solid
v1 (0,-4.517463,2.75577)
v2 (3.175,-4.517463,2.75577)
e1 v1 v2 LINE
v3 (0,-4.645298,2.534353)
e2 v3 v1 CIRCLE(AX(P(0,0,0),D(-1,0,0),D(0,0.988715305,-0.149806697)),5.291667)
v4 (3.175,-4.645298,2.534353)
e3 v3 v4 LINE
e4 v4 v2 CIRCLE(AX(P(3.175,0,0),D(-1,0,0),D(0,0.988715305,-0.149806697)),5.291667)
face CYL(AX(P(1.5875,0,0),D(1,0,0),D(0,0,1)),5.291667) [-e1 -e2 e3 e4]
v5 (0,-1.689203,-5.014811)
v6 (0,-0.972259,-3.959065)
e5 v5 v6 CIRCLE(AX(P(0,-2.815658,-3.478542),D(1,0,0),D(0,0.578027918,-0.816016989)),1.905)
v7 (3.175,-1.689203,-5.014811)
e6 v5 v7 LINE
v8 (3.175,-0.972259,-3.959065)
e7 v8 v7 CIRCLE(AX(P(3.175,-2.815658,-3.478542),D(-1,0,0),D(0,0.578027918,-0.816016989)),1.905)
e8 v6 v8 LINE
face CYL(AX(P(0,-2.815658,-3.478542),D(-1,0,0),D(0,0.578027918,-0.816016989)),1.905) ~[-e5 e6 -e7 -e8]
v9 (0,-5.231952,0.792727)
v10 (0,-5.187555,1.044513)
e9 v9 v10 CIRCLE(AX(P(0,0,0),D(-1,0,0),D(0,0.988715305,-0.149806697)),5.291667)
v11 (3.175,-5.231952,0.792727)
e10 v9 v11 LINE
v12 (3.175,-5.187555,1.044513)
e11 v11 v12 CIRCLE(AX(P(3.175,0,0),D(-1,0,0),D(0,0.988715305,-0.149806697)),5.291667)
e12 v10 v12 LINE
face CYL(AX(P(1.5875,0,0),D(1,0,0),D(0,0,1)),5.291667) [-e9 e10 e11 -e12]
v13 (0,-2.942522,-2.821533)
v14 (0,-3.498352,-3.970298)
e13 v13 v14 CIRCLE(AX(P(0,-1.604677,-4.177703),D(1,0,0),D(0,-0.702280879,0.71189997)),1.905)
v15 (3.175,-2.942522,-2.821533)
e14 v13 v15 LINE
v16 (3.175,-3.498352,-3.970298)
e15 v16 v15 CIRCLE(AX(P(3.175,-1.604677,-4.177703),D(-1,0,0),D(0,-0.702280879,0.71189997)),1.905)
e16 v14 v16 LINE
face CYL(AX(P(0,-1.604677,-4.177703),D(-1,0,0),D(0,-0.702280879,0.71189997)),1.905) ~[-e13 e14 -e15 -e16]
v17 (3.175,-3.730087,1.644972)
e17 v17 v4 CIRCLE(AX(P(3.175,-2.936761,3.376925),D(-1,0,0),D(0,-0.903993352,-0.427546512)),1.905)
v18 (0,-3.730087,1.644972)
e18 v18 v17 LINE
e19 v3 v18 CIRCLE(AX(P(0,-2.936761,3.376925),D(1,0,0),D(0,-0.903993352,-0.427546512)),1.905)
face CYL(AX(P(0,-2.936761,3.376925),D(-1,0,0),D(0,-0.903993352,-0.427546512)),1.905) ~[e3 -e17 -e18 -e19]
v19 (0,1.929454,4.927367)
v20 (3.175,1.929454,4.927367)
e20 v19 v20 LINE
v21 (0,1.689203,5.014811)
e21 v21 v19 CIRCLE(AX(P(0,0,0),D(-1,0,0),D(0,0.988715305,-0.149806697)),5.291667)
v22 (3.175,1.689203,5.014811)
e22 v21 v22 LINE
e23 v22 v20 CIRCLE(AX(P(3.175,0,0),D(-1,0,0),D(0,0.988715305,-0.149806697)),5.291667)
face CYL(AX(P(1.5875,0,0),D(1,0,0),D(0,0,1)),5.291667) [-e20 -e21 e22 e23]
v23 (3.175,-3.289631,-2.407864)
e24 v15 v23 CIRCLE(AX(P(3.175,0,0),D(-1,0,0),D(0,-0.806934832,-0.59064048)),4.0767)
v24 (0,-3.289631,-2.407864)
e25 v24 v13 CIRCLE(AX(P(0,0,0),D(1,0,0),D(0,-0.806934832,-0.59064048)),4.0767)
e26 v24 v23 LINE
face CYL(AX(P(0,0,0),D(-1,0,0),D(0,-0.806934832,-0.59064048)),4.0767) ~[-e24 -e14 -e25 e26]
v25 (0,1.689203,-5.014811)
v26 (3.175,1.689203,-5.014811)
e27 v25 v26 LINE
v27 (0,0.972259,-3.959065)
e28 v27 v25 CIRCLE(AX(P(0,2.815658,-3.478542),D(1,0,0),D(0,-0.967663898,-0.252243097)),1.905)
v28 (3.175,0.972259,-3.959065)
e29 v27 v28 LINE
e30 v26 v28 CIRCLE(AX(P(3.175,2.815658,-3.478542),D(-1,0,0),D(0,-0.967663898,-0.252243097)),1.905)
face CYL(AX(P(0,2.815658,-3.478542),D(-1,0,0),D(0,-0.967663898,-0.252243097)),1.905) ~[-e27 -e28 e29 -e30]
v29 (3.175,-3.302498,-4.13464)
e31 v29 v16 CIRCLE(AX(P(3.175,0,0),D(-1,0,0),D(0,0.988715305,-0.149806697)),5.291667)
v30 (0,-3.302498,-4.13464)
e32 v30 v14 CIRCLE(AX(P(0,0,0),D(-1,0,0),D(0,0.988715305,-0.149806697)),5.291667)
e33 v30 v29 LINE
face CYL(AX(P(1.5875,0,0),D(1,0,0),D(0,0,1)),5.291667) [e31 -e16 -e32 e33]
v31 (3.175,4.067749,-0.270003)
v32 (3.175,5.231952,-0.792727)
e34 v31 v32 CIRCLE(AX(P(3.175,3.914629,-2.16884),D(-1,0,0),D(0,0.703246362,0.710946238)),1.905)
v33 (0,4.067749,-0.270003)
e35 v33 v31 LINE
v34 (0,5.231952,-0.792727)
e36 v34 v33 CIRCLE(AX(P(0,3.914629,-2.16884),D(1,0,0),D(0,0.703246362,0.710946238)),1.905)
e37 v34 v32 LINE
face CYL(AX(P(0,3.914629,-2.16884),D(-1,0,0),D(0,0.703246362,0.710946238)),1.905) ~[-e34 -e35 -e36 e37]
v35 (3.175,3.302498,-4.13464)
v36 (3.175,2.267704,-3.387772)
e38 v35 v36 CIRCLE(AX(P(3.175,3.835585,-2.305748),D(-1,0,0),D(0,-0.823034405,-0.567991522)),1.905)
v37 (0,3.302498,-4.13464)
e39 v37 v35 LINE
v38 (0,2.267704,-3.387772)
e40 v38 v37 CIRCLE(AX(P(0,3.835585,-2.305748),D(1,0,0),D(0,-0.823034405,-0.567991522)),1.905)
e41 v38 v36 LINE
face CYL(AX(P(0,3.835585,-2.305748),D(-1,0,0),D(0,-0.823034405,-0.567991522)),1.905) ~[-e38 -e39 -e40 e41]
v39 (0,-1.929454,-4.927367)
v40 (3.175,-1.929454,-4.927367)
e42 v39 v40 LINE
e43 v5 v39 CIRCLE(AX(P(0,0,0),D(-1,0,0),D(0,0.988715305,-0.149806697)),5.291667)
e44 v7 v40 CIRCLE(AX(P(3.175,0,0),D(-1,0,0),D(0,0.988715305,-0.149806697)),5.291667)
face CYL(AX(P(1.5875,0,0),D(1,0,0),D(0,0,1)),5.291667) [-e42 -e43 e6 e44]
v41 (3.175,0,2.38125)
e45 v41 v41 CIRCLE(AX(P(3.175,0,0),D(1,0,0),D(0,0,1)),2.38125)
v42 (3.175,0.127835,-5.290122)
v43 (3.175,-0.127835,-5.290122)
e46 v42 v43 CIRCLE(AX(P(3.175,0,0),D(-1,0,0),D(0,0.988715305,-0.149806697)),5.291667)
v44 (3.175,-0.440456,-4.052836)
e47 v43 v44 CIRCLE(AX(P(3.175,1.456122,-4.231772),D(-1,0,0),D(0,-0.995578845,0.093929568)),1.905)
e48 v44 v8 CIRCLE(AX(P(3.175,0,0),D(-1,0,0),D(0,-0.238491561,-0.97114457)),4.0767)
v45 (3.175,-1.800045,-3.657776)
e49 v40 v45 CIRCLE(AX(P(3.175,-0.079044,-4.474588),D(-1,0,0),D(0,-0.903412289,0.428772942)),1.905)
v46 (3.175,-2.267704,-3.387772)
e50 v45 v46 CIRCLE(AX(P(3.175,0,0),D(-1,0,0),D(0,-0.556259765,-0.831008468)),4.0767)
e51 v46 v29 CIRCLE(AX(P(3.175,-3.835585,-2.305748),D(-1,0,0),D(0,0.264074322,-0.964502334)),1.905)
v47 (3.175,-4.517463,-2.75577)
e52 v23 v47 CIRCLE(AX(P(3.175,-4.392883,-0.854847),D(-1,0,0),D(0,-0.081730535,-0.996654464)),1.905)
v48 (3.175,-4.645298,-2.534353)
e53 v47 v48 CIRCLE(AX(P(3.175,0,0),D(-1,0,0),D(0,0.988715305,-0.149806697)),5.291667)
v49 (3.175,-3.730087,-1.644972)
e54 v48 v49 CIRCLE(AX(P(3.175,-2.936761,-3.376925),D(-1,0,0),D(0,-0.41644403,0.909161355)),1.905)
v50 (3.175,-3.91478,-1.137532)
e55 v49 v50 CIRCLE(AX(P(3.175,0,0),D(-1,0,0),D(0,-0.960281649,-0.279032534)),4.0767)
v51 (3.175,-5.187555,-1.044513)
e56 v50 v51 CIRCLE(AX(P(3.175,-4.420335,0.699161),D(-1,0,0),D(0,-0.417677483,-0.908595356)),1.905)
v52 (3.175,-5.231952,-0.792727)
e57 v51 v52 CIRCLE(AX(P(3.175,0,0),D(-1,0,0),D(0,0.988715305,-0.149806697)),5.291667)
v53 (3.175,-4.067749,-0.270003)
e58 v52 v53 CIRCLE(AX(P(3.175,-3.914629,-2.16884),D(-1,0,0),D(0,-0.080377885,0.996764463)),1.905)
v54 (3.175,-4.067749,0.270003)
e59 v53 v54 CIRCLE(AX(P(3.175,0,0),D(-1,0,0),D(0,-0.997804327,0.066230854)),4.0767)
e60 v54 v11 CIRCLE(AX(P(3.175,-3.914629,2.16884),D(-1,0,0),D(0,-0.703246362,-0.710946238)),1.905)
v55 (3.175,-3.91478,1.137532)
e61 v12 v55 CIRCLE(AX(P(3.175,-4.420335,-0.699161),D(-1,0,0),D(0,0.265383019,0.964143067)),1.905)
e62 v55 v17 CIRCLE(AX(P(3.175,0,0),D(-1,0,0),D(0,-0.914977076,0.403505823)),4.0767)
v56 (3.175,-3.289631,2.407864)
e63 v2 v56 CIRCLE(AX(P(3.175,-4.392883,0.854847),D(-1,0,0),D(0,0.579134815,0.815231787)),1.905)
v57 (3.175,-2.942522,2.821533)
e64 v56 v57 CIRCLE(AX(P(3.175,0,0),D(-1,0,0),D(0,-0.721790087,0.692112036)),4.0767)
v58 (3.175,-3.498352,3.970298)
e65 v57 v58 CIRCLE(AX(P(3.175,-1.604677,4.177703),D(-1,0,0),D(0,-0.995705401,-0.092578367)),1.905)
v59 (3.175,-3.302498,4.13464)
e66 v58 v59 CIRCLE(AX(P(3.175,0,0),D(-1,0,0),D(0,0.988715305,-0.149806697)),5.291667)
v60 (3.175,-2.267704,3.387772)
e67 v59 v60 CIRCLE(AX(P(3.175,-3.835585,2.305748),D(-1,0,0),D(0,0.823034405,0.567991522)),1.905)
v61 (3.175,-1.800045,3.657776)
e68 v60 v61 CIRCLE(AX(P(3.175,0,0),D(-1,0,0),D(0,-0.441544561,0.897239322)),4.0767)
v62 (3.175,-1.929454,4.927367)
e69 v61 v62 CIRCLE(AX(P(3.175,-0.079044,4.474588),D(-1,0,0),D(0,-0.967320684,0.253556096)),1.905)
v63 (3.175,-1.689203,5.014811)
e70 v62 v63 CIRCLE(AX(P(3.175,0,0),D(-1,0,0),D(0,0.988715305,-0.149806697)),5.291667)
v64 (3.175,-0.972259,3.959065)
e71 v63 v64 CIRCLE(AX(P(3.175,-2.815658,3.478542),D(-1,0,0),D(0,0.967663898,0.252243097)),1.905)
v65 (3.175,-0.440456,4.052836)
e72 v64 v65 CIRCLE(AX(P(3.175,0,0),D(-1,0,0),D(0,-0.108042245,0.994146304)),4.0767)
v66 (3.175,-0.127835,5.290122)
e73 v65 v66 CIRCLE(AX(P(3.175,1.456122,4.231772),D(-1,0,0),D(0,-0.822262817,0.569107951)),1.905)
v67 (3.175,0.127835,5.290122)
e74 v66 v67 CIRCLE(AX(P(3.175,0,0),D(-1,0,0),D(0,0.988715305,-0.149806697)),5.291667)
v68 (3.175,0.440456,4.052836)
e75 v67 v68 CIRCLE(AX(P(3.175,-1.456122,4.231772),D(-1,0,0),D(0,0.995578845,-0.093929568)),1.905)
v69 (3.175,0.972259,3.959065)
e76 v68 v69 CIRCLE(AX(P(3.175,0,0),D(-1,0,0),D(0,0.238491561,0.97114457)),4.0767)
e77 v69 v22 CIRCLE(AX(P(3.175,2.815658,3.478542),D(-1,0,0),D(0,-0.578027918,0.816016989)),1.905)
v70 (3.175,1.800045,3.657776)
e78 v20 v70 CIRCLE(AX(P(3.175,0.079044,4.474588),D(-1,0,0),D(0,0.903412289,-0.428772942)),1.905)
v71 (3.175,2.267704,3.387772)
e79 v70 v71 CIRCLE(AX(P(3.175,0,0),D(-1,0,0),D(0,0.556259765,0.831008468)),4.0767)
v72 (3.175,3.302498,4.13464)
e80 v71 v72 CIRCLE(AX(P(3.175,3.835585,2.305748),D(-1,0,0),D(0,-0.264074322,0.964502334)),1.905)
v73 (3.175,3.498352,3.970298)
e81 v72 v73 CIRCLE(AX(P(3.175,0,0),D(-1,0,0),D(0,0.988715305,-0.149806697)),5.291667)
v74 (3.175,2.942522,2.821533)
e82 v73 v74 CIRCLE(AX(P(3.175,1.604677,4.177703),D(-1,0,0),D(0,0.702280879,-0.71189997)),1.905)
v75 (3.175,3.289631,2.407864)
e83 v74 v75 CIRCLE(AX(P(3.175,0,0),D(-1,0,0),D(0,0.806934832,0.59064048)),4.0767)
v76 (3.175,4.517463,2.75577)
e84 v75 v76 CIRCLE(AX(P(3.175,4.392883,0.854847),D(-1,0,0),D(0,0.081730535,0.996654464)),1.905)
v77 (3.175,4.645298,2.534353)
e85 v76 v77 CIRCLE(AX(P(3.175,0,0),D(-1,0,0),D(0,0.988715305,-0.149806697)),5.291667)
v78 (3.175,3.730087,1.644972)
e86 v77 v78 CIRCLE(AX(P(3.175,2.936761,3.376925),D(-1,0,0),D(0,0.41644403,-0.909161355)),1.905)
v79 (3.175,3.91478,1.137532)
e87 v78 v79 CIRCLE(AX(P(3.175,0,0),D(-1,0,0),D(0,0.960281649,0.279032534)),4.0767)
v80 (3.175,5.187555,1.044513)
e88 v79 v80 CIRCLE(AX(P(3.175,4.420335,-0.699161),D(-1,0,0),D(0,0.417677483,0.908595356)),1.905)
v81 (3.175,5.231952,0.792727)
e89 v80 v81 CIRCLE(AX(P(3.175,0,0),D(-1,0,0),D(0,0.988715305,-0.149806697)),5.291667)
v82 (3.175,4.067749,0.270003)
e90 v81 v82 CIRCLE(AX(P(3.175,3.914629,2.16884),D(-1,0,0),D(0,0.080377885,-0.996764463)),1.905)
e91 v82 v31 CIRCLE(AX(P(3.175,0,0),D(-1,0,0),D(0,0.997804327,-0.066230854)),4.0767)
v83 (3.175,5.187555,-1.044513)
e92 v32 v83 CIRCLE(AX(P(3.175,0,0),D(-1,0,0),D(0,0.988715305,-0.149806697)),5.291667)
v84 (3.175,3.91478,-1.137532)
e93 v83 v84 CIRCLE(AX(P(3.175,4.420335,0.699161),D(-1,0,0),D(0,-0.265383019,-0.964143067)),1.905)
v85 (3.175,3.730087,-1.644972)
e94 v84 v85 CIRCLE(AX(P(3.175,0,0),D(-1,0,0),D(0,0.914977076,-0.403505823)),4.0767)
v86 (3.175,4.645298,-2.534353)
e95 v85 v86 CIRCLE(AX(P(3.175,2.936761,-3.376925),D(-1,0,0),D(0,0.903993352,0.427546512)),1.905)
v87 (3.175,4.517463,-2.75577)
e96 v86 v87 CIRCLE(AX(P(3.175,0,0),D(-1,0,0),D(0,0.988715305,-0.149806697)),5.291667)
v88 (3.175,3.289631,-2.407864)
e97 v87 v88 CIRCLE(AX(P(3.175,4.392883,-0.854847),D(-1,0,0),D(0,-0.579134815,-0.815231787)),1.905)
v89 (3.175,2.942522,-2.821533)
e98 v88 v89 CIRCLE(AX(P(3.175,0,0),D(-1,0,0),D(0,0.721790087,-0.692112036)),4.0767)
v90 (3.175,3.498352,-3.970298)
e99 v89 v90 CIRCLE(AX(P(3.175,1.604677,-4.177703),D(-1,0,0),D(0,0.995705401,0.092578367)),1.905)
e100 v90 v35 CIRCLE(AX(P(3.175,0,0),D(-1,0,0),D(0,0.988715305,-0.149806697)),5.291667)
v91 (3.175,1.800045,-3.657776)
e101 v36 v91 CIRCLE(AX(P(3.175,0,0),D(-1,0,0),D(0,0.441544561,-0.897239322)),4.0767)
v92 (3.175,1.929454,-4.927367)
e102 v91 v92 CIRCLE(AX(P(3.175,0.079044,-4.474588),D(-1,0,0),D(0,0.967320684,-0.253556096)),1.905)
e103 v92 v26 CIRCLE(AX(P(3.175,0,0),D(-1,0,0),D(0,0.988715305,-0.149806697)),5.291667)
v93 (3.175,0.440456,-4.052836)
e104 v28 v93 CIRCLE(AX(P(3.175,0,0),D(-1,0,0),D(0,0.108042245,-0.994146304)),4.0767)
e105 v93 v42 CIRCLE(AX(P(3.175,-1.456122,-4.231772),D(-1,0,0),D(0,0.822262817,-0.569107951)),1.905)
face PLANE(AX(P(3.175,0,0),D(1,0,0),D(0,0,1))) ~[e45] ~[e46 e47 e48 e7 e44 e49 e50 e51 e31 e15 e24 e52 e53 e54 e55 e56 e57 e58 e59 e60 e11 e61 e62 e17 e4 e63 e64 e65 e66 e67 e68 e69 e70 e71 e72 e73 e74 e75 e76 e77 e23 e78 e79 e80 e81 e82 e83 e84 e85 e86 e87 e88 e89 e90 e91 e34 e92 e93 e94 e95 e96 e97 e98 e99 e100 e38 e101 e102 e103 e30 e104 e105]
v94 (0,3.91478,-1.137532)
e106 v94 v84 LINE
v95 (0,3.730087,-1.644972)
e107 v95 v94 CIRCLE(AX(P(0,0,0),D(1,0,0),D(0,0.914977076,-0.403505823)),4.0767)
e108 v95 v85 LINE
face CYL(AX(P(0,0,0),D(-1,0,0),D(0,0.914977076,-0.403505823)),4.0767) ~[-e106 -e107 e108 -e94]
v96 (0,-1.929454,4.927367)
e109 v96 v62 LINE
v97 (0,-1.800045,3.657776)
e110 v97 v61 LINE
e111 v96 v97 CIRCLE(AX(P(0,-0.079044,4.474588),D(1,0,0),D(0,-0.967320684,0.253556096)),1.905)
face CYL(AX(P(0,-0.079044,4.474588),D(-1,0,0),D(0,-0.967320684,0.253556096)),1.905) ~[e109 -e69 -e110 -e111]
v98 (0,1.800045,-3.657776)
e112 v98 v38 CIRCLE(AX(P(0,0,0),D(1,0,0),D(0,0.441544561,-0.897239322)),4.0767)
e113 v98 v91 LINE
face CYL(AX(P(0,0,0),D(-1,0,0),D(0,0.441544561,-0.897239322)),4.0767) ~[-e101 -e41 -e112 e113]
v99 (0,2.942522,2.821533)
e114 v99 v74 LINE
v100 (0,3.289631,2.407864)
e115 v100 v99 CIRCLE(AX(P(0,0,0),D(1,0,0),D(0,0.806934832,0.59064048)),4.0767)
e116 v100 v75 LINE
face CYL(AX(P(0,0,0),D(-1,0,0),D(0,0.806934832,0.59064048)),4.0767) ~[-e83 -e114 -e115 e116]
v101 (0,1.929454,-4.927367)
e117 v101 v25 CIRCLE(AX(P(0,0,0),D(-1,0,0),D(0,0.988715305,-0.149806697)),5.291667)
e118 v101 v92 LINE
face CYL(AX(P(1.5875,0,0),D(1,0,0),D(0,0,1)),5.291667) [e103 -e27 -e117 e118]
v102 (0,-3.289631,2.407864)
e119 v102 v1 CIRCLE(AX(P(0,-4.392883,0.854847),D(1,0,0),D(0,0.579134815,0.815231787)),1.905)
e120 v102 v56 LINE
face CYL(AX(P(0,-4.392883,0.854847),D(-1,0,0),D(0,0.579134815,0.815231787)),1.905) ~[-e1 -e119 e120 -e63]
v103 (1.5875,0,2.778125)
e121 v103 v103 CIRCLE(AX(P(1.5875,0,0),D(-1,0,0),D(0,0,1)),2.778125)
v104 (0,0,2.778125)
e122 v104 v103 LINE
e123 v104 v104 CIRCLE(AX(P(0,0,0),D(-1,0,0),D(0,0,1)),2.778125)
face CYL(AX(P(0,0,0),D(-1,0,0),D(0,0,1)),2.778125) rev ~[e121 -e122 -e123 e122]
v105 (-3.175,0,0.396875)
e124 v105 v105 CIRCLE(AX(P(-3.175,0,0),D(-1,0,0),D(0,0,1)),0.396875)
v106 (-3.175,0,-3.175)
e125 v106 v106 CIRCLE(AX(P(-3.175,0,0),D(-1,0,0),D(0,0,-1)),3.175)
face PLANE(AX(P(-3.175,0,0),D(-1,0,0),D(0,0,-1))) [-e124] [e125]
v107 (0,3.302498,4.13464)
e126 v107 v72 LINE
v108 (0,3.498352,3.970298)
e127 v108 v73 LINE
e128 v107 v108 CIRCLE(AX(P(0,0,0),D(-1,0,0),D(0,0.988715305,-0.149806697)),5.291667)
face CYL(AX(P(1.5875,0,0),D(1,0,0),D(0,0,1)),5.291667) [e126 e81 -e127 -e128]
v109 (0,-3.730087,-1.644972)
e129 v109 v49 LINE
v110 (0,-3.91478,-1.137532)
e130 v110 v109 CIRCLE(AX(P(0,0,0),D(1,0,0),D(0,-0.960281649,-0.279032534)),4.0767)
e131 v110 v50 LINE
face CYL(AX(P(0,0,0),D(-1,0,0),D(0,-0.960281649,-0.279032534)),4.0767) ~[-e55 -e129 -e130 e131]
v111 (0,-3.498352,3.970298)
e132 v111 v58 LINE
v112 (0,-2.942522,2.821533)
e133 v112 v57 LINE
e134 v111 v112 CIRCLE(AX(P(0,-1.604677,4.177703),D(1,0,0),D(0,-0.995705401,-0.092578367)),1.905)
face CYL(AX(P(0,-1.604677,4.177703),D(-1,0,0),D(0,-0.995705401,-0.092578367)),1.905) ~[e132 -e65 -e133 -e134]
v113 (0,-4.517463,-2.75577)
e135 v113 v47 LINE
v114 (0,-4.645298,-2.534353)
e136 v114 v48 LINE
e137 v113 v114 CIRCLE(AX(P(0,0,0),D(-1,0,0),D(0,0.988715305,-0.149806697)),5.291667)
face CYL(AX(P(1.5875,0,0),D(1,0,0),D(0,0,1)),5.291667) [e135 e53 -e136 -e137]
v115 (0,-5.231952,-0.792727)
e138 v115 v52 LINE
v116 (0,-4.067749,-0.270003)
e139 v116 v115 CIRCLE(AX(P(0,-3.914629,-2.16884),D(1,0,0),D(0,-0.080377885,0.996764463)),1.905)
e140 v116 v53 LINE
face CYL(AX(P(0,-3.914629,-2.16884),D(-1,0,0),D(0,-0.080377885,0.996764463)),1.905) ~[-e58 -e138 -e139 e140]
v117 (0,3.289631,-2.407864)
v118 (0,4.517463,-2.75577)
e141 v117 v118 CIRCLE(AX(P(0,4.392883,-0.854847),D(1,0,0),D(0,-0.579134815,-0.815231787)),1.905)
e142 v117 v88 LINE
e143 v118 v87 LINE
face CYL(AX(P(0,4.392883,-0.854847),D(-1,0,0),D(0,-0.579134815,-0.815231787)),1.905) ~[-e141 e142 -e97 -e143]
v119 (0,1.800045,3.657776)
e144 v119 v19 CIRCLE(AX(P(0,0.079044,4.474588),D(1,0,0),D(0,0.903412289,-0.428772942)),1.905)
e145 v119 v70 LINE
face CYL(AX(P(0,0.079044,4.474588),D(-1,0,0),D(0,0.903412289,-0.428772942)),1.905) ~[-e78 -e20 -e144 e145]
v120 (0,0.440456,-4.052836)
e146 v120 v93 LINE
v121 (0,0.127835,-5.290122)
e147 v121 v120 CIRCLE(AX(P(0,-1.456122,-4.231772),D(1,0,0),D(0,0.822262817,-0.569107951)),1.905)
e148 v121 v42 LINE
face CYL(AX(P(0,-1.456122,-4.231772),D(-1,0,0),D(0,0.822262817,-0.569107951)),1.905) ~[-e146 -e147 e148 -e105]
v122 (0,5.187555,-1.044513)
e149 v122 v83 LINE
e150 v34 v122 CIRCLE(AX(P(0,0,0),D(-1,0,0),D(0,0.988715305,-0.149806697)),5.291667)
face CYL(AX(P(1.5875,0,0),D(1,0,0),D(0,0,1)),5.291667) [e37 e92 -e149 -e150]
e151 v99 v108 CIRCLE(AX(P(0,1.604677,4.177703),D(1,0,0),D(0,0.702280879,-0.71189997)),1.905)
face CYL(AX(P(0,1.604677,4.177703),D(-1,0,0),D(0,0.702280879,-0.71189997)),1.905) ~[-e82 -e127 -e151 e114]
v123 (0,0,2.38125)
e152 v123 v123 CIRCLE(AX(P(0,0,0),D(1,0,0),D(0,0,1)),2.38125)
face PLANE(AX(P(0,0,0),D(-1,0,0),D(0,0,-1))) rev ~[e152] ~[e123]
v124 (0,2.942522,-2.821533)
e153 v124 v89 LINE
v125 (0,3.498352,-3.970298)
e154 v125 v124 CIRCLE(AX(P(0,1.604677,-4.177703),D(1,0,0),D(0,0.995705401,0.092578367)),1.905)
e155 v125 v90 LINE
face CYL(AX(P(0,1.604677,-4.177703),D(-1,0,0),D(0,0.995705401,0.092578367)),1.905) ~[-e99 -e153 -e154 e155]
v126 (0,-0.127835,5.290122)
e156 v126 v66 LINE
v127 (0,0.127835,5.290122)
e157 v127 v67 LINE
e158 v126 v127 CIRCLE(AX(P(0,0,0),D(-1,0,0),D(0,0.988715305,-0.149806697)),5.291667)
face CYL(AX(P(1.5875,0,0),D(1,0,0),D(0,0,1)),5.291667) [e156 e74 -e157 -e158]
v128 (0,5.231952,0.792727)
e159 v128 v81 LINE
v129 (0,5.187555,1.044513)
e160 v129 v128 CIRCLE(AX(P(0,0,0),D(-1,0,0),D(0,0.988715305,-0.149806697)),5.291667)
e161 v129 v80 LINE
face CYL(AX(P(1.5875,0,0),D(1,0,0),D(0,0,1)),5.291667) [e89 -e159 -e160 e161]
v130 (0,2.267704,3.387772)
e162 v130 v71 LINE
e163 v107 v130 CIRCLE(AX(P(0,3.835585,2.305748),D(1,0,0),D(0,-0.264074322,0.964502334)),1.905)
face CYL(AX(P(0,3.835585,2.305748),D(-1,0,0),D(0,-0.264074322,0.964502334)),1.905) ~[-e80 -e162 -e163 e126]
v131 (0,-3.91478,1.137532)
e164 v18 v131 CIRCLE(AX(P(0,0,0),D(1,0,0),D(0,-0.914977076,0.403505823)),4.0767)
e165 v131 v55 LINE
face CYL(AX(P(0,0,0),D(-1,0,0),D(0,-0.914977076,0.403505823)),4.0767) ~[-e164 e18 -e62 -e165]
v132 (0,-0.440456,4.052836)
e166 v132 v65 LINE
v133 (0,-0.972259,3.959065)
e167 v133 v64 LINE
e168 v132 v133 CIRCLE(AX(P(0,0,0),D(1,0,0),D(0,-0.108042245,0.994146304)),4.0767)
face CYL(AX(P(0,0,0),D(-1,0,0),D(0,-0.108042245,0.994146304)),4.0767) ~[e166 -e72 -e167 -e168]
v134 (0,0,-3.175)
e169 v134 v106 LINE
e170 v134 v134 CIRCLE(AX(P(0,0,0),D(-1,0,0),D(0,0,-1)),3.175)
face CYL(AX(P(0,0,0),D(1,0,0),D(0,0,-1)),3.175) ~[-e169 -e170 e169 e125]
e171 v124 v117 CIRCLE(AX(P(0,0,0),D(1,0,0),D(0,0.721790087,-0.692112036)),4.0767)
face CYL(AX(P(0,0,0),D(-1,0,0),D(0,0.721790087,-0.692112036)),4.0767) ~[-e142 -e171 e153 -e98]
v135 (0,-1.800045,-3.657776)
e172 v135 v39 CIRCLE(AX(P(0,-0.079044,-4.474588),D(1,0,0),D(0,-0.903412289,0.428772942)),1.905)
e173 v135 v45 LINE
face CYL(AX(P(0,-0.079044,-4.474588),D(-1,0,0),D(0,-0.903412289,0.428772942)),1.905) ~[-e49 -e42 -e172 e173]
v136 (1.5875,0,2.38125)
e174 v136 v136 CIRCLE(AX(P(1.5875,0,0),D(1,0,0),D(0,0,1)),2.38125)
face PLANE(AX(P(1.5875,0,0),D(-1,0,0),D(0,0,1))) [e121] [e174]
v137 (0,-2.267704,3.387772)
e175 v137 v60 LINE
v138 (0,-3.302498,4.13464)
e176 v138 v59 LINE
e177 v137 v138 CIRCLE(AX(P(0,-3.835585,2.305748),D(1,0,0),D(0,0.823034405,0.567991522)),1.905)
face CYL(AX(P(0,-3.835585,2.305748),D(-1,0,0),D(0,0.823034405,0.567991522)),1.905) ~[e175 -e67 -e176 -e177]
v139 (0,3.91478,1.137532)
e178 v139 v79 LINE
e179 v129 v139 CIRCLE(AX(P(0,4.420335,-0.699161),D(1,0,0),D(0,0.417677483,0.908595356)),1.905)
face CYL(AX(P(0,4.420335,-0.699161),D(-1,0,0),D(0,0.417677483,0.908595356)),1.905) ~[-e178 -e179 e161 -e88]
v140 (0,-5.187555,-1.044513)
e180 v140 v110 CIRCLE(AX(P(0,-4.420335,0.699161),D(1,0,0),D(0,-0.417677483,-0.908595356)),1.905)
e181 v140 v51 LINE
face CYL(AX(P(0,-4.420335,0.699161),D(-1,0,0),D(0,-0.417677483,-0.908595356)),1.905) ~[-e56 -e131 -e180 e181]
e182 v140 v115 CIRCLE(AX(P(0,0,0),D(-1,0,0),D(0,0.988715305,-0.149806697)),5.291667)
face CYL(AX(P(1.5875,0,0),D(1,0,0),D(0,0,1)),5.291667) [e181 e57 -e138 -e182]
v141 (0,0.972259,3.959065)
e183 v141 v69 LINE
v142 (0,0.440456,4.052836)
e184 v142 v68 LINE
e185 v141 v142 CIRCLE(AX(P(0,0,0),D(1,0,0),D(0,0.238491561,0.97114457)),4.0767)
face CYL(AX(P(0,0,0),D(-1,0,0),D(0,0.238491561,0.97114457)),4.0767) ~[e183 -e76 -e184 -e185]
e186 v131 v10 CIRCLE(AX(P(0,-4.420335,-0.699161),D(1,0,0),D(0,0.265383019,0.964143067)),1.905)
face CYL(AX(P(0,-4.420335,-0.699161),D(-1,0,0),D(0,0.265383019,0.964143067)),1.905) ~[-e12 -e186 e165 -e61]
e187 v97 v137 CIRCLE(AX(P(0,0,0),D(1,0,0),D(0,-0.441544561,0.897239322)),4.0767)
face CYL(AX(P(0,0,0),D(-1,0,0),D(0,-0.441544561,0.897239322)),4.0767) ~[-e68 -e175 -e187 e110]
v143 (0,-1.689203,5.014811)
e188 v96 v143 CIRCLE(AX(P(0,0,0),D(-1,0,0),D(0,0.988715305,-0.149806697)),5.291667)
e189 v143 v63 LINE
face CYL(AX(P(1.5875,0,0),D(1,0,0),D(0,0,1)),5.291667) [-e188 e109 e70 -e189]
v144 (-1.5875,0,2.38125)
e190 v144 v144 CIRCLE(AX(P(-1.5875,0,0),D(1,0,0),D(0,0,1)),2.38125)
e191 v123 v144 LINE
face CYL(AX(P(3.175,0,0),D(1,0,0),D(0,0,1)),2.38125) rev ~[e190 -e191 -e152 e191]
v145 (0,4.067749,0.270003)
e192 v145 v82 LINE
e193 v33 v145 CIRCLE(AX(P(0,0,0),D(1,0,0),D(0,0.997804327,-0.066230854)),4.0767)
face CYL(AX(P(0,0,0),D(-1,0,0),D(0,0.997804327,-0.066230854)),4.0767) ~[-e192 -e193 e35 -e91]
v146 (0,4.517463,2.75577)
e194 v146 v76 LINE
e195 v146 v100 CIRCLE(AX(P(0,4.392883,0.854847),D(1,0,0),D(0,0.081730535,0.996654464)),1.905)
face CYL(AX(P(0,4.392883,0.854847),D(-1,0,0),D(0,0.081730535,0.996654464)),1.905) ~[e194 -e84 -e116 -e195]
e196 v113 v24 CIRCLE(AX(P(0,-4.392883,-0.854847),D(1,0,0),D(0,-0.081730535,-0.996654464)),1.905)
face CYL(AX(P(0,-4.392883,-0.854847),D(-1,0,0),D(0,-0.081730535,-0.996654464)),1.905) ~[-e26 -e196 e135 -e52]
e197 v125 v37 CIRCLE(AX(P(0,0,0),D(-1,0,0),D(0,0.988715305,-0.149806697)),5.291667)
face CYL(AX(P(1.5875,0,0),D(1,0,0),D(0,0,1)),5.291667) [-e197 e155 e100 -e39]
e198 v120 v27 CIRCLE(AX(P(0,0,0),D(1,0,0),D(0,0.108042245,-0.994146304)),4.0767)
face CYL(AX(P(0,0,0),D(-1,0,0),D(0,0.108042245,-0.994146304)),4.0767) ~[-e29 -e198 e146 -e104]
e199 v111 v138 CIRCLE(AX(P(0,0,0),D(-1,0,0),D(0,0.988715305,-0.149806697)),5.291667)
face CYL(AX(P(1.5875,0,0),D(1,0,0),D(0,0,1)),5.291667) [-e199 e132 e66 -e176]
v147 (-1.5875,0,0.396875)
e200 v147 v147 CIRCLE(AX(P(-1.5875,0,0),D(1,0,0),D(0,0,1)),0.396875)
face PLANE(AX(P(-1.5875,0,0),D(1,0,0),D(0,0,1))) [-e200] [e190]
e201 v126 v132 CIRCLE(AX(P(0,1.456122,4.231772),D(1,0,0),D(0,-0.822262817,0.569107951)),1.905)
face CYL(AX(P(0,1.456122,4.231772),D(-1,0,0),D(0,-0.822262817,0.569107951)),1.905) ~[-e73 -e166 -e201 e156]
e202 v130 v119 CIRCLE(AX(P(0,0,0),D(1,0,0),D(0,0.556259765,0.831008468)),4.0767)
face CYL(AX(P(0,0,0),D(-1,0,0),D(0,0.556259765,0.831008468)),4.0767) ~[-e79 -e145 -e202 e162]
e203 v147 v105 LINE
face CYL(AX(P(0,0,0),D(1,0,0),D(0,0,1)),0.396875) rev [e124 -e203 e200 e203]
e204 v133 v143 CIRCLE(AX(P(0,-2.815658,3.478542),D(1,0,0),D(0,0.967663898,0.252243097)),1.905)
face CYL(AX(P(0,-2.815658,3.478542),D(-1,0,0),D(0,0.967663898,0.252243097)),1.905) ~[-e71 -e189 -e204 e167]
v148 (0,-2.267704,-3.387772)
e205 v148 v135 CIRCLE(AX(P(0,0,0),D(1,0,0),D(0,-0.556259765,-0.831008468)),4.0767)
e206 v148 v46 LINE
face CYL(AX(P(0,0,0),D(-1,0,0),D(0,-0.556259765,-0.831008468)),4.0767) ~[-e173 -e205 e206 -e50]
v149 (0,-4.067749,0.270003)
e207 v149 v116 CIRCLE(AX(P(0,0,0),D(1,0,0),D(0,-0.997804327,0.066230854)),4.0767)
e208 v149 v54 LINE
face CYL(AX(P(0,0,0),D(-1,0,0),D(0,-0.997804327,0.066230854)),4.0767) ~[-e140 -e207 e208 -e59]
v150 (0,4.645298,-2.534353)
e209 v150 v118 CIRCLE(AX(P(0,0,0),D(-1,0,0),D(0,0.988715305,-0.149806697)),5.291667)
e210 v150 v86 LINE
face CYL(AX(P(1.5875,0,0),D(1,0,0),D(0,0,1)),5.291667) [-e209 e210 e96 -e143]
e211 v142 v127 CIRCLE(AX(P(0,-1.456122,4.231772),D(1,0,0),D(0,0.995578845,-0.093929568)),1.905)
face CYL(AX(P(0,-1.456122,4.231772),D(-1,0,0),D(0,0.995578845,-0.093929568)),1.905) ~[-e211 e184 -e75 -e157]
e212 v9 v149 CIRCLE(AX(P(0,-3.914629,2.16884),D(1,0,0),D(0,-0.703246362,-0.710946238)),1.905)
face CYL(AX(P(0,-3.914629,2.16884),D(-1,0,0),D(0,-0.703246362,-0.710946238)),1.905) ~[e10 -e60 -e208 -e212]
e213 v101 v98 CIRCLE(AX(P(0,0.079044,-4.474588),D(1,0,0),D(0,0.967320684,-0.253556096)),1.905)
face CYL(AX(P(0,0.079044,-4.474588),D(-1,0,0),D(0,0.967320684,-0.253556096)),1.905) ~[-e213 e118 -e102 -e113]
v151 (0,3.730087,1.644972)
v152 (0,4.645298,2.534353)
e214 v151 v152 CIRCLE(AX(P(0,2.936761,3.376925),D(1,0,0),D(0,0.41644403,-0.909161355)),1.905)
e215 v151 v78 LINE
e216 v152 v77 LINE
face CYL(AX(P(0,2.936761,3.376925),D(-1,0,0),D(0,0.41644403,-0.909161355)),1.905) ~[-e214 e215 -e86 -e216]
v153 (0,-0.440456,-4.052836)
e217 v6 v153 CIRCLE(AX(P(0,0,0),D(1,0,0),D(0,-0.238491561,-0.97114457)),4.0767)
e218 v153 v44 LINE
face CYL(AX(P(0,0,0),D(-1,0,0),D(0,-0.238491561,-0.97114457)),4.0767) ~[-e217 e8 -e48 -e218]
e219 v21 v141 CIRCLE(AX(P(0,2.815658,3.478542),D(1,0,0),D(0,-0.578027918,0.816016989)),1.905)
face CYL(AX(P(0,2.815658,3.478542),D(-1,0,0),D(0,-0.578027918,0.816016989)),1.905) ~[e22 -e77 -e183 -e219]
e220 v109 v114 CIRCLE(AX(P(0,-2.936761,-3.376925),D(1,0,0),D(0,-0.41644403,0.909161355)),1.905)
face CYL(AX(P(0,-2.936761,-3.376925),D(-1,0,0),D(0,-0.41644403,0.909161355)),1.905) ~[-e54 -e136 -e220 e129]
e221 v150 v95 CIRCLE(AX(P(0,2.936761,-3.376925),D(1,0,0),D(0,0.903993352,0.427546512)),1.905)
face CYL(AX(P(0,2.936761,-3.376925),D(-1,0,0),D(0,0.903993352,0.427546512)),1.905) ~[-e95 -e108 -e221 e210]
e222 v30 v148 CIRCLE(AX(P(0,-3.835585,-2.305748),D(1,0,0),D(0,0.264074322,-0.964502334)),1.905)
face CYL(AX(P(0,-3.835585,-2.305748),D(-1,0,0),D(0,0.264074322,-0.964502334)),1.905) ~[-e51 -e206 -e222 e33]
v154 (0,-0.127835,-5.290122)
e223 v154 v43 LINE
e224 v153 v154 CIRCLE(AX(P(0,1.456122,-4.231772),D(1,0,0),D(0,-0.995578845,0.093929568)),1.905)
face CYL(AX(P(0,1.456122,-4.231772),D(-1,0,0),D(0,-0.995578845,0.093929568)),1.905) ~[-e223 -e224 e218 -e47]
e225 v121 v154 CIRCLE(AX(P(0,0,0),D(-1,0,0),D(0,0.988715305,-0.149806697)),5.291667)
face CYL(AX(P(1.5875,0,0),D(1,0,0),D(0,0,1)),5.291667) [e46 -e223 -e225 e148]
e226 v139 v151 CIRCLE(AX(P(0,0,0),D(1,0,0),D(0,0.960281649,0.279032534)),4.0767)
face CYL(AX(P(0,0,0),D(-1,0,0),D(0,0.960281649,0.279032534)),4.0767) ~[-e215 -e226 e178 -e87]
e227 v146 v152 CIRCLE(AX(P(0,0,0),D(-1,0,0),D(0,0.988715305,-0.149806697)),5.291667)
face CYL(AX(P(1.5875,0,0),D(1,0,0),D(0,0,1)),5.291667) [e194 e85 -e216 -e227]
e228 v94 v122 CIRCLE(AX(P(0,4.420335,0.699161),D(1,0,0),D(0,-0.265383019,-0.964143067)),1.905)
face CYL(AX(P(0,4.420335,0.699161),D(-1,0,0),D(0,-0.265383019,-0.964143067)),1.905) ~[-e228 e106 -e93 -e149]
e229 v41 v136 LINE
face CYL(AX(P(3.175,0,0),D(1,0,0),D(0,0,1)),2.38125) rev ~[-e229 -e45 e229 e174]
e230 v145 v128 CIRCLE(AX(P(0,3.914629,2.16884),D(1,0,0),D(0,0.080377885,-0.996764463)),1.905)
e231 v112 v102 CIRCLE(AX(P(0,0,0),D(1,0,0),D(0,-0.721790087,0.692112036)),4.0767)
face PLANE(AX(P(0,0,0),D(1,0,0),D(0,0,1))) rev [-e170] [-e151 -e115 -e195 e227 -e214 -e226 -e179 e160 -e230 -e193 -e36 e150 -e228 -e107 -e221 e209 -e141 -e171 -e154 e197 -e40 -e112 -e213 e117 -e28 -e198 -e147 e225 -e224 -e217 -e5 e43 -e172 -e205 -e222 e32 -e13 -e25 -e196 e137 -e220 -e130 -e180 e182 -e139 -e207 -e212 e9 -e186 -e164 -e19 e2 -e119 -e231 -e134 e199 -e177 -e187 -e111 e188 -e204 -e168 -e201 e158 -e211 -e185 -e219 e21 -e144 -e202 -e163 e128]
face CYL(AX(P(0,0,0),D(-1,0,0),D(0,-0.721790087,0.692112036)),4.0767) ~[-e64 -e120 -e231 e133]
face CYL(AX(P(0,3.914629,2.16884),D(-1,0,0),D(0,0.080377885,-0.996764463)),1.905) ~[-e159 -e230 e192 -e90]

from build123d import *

# Parameters (mm, degrees)
BASPROSKE_W         = 3.175
BASPROSKE_H         = 5.291666667
TOOTHCUT_DEPTH      = 9.129212583
TEETHCUTS_COUNT     = 18
TEETHCUTS_ANGLE     = 340
BORSKE_R            = 0.396875
BORE_DEPTH          = 50.8009144
SKETCH1_R           = 2.778125
CUT_EXTRUDE2_DEPTH  = 1.5875
SKETCH3_R           = 3.175
SKETCH3_R_2         = 0.396875
BOSS_EXTRUDE1_DEPTH = 3.175
SKETCH4_R           = 2.38125
CUT_EXTRUDE3_DEPTH  = 4.7625


with BuildPart() as part:
    # BasProSke → Base-Revolve (revolve)
    with BuildSketch(Plane(origin=(0, 0, 0), x_dir=(1, 0, 0), z_dir=(0, 1, 0)), mode=Mode.PRIVATE) as base_revolve_sk:
        with Locations((1.5875, 2.645833334)):
            Rectangle(BASPROSKE_W, BASPROSKE_H)
    revolve(base_revolve_sk.sketch.rotate(Axis((-10, 0, 0), (1, 0, 0)), 180), axis=Axis((-10, 0, 0), (1, 0, 0)))

    # TooCutSke → ToothCut (cut, through all)
    with BuildSketch(Plane(origin=(0, 0, 0), x_dir=(0, 0, -1), z_dir=(1, 0, 0))):
        with BuildLine():
            ThreePointArc((0.270003318, 4.067748898), (0, 4.0767), (-0.270003318, 4.067748898))
            ThreePointArc((-0.270003318, 4.067748898), (-0.437425956, 4.709129954), (-0.814487039, 5.254313352))
            ThreePointArc((-0.814487039, 5.254313352), (0, 5.317066667), (0.814487039, 5.254313352))
            ThreePointArc((0.814487039, 5.254313352), (0.437425956, 4.709129954), (0.270003318, 4.067748898))
        make_face()
    toothcut = extrude(amount=TOOTHCUT_DEPTH, mode=Mode.SUBTRACT)

    # TeethCuts: ToothCut ×18 about axis
    teethcuts_axis = Axis((-10, 0, 0), (1, 0, 0))
    for i in range(1, TEETHCUTS_COUNT):
        add(toothcut.rotate(teethcuts_axis, i * TEETHCUTS_ANGLE / (TEETHCUTS_COUNT - 1)), mode=Mode.SUBTRACT)

    # BorSke → Bore (cut, symmetric)
    with BuildSketch(Plane(origin=(0, 0, 0), x_dir=(0, 0, -1), z_dir=(1, 0, 0))):
        with Locations(Location((0, 0, 0), (0, 0, 180))):
            Circle(BORSKE_R)
    extrude(amount=BORE_DEPTH, both=True, mode=Mode.SUBTRACT)

    # Sketch1 → Cut-Extrude2 (cut)
    with BuildSketch(Plane.ZY):
        Circle(SKETCH1_R)
    extrude(amount=-CUT_EXTRUDE2_DEPTH, mode=Mode.SUBTRACT)

    # Sketch3 → Boss-Extrude1 (add)
    with BuildSketch(Plane.ZY):
        with Locations(Location((0, 0, 0), (0, 0, 180))):
            Circle(SKETCH3_R)
        Circle(SKETCH3_R_2, mode=Mode.SUBTRACT)
    extrude(amount=BOSS_EXTRUDE1_DEPTH)

    # Sketch4 → Cut-Extrude3 (cut)
    with BuildSketch(Plane(origin=(3.175, 0, 0), x_dir=(0, 0, -1), z_dir=(1, 0, 0))):
        with Locations(Location((0, 0, 0), (0, 0, 180))):
            Circle(SKETCH4_R)
    extrude(amount=-CUT_EXTRUDE3_DEPTH, mode=Mode.SUBTRACT)


solid = part.part
